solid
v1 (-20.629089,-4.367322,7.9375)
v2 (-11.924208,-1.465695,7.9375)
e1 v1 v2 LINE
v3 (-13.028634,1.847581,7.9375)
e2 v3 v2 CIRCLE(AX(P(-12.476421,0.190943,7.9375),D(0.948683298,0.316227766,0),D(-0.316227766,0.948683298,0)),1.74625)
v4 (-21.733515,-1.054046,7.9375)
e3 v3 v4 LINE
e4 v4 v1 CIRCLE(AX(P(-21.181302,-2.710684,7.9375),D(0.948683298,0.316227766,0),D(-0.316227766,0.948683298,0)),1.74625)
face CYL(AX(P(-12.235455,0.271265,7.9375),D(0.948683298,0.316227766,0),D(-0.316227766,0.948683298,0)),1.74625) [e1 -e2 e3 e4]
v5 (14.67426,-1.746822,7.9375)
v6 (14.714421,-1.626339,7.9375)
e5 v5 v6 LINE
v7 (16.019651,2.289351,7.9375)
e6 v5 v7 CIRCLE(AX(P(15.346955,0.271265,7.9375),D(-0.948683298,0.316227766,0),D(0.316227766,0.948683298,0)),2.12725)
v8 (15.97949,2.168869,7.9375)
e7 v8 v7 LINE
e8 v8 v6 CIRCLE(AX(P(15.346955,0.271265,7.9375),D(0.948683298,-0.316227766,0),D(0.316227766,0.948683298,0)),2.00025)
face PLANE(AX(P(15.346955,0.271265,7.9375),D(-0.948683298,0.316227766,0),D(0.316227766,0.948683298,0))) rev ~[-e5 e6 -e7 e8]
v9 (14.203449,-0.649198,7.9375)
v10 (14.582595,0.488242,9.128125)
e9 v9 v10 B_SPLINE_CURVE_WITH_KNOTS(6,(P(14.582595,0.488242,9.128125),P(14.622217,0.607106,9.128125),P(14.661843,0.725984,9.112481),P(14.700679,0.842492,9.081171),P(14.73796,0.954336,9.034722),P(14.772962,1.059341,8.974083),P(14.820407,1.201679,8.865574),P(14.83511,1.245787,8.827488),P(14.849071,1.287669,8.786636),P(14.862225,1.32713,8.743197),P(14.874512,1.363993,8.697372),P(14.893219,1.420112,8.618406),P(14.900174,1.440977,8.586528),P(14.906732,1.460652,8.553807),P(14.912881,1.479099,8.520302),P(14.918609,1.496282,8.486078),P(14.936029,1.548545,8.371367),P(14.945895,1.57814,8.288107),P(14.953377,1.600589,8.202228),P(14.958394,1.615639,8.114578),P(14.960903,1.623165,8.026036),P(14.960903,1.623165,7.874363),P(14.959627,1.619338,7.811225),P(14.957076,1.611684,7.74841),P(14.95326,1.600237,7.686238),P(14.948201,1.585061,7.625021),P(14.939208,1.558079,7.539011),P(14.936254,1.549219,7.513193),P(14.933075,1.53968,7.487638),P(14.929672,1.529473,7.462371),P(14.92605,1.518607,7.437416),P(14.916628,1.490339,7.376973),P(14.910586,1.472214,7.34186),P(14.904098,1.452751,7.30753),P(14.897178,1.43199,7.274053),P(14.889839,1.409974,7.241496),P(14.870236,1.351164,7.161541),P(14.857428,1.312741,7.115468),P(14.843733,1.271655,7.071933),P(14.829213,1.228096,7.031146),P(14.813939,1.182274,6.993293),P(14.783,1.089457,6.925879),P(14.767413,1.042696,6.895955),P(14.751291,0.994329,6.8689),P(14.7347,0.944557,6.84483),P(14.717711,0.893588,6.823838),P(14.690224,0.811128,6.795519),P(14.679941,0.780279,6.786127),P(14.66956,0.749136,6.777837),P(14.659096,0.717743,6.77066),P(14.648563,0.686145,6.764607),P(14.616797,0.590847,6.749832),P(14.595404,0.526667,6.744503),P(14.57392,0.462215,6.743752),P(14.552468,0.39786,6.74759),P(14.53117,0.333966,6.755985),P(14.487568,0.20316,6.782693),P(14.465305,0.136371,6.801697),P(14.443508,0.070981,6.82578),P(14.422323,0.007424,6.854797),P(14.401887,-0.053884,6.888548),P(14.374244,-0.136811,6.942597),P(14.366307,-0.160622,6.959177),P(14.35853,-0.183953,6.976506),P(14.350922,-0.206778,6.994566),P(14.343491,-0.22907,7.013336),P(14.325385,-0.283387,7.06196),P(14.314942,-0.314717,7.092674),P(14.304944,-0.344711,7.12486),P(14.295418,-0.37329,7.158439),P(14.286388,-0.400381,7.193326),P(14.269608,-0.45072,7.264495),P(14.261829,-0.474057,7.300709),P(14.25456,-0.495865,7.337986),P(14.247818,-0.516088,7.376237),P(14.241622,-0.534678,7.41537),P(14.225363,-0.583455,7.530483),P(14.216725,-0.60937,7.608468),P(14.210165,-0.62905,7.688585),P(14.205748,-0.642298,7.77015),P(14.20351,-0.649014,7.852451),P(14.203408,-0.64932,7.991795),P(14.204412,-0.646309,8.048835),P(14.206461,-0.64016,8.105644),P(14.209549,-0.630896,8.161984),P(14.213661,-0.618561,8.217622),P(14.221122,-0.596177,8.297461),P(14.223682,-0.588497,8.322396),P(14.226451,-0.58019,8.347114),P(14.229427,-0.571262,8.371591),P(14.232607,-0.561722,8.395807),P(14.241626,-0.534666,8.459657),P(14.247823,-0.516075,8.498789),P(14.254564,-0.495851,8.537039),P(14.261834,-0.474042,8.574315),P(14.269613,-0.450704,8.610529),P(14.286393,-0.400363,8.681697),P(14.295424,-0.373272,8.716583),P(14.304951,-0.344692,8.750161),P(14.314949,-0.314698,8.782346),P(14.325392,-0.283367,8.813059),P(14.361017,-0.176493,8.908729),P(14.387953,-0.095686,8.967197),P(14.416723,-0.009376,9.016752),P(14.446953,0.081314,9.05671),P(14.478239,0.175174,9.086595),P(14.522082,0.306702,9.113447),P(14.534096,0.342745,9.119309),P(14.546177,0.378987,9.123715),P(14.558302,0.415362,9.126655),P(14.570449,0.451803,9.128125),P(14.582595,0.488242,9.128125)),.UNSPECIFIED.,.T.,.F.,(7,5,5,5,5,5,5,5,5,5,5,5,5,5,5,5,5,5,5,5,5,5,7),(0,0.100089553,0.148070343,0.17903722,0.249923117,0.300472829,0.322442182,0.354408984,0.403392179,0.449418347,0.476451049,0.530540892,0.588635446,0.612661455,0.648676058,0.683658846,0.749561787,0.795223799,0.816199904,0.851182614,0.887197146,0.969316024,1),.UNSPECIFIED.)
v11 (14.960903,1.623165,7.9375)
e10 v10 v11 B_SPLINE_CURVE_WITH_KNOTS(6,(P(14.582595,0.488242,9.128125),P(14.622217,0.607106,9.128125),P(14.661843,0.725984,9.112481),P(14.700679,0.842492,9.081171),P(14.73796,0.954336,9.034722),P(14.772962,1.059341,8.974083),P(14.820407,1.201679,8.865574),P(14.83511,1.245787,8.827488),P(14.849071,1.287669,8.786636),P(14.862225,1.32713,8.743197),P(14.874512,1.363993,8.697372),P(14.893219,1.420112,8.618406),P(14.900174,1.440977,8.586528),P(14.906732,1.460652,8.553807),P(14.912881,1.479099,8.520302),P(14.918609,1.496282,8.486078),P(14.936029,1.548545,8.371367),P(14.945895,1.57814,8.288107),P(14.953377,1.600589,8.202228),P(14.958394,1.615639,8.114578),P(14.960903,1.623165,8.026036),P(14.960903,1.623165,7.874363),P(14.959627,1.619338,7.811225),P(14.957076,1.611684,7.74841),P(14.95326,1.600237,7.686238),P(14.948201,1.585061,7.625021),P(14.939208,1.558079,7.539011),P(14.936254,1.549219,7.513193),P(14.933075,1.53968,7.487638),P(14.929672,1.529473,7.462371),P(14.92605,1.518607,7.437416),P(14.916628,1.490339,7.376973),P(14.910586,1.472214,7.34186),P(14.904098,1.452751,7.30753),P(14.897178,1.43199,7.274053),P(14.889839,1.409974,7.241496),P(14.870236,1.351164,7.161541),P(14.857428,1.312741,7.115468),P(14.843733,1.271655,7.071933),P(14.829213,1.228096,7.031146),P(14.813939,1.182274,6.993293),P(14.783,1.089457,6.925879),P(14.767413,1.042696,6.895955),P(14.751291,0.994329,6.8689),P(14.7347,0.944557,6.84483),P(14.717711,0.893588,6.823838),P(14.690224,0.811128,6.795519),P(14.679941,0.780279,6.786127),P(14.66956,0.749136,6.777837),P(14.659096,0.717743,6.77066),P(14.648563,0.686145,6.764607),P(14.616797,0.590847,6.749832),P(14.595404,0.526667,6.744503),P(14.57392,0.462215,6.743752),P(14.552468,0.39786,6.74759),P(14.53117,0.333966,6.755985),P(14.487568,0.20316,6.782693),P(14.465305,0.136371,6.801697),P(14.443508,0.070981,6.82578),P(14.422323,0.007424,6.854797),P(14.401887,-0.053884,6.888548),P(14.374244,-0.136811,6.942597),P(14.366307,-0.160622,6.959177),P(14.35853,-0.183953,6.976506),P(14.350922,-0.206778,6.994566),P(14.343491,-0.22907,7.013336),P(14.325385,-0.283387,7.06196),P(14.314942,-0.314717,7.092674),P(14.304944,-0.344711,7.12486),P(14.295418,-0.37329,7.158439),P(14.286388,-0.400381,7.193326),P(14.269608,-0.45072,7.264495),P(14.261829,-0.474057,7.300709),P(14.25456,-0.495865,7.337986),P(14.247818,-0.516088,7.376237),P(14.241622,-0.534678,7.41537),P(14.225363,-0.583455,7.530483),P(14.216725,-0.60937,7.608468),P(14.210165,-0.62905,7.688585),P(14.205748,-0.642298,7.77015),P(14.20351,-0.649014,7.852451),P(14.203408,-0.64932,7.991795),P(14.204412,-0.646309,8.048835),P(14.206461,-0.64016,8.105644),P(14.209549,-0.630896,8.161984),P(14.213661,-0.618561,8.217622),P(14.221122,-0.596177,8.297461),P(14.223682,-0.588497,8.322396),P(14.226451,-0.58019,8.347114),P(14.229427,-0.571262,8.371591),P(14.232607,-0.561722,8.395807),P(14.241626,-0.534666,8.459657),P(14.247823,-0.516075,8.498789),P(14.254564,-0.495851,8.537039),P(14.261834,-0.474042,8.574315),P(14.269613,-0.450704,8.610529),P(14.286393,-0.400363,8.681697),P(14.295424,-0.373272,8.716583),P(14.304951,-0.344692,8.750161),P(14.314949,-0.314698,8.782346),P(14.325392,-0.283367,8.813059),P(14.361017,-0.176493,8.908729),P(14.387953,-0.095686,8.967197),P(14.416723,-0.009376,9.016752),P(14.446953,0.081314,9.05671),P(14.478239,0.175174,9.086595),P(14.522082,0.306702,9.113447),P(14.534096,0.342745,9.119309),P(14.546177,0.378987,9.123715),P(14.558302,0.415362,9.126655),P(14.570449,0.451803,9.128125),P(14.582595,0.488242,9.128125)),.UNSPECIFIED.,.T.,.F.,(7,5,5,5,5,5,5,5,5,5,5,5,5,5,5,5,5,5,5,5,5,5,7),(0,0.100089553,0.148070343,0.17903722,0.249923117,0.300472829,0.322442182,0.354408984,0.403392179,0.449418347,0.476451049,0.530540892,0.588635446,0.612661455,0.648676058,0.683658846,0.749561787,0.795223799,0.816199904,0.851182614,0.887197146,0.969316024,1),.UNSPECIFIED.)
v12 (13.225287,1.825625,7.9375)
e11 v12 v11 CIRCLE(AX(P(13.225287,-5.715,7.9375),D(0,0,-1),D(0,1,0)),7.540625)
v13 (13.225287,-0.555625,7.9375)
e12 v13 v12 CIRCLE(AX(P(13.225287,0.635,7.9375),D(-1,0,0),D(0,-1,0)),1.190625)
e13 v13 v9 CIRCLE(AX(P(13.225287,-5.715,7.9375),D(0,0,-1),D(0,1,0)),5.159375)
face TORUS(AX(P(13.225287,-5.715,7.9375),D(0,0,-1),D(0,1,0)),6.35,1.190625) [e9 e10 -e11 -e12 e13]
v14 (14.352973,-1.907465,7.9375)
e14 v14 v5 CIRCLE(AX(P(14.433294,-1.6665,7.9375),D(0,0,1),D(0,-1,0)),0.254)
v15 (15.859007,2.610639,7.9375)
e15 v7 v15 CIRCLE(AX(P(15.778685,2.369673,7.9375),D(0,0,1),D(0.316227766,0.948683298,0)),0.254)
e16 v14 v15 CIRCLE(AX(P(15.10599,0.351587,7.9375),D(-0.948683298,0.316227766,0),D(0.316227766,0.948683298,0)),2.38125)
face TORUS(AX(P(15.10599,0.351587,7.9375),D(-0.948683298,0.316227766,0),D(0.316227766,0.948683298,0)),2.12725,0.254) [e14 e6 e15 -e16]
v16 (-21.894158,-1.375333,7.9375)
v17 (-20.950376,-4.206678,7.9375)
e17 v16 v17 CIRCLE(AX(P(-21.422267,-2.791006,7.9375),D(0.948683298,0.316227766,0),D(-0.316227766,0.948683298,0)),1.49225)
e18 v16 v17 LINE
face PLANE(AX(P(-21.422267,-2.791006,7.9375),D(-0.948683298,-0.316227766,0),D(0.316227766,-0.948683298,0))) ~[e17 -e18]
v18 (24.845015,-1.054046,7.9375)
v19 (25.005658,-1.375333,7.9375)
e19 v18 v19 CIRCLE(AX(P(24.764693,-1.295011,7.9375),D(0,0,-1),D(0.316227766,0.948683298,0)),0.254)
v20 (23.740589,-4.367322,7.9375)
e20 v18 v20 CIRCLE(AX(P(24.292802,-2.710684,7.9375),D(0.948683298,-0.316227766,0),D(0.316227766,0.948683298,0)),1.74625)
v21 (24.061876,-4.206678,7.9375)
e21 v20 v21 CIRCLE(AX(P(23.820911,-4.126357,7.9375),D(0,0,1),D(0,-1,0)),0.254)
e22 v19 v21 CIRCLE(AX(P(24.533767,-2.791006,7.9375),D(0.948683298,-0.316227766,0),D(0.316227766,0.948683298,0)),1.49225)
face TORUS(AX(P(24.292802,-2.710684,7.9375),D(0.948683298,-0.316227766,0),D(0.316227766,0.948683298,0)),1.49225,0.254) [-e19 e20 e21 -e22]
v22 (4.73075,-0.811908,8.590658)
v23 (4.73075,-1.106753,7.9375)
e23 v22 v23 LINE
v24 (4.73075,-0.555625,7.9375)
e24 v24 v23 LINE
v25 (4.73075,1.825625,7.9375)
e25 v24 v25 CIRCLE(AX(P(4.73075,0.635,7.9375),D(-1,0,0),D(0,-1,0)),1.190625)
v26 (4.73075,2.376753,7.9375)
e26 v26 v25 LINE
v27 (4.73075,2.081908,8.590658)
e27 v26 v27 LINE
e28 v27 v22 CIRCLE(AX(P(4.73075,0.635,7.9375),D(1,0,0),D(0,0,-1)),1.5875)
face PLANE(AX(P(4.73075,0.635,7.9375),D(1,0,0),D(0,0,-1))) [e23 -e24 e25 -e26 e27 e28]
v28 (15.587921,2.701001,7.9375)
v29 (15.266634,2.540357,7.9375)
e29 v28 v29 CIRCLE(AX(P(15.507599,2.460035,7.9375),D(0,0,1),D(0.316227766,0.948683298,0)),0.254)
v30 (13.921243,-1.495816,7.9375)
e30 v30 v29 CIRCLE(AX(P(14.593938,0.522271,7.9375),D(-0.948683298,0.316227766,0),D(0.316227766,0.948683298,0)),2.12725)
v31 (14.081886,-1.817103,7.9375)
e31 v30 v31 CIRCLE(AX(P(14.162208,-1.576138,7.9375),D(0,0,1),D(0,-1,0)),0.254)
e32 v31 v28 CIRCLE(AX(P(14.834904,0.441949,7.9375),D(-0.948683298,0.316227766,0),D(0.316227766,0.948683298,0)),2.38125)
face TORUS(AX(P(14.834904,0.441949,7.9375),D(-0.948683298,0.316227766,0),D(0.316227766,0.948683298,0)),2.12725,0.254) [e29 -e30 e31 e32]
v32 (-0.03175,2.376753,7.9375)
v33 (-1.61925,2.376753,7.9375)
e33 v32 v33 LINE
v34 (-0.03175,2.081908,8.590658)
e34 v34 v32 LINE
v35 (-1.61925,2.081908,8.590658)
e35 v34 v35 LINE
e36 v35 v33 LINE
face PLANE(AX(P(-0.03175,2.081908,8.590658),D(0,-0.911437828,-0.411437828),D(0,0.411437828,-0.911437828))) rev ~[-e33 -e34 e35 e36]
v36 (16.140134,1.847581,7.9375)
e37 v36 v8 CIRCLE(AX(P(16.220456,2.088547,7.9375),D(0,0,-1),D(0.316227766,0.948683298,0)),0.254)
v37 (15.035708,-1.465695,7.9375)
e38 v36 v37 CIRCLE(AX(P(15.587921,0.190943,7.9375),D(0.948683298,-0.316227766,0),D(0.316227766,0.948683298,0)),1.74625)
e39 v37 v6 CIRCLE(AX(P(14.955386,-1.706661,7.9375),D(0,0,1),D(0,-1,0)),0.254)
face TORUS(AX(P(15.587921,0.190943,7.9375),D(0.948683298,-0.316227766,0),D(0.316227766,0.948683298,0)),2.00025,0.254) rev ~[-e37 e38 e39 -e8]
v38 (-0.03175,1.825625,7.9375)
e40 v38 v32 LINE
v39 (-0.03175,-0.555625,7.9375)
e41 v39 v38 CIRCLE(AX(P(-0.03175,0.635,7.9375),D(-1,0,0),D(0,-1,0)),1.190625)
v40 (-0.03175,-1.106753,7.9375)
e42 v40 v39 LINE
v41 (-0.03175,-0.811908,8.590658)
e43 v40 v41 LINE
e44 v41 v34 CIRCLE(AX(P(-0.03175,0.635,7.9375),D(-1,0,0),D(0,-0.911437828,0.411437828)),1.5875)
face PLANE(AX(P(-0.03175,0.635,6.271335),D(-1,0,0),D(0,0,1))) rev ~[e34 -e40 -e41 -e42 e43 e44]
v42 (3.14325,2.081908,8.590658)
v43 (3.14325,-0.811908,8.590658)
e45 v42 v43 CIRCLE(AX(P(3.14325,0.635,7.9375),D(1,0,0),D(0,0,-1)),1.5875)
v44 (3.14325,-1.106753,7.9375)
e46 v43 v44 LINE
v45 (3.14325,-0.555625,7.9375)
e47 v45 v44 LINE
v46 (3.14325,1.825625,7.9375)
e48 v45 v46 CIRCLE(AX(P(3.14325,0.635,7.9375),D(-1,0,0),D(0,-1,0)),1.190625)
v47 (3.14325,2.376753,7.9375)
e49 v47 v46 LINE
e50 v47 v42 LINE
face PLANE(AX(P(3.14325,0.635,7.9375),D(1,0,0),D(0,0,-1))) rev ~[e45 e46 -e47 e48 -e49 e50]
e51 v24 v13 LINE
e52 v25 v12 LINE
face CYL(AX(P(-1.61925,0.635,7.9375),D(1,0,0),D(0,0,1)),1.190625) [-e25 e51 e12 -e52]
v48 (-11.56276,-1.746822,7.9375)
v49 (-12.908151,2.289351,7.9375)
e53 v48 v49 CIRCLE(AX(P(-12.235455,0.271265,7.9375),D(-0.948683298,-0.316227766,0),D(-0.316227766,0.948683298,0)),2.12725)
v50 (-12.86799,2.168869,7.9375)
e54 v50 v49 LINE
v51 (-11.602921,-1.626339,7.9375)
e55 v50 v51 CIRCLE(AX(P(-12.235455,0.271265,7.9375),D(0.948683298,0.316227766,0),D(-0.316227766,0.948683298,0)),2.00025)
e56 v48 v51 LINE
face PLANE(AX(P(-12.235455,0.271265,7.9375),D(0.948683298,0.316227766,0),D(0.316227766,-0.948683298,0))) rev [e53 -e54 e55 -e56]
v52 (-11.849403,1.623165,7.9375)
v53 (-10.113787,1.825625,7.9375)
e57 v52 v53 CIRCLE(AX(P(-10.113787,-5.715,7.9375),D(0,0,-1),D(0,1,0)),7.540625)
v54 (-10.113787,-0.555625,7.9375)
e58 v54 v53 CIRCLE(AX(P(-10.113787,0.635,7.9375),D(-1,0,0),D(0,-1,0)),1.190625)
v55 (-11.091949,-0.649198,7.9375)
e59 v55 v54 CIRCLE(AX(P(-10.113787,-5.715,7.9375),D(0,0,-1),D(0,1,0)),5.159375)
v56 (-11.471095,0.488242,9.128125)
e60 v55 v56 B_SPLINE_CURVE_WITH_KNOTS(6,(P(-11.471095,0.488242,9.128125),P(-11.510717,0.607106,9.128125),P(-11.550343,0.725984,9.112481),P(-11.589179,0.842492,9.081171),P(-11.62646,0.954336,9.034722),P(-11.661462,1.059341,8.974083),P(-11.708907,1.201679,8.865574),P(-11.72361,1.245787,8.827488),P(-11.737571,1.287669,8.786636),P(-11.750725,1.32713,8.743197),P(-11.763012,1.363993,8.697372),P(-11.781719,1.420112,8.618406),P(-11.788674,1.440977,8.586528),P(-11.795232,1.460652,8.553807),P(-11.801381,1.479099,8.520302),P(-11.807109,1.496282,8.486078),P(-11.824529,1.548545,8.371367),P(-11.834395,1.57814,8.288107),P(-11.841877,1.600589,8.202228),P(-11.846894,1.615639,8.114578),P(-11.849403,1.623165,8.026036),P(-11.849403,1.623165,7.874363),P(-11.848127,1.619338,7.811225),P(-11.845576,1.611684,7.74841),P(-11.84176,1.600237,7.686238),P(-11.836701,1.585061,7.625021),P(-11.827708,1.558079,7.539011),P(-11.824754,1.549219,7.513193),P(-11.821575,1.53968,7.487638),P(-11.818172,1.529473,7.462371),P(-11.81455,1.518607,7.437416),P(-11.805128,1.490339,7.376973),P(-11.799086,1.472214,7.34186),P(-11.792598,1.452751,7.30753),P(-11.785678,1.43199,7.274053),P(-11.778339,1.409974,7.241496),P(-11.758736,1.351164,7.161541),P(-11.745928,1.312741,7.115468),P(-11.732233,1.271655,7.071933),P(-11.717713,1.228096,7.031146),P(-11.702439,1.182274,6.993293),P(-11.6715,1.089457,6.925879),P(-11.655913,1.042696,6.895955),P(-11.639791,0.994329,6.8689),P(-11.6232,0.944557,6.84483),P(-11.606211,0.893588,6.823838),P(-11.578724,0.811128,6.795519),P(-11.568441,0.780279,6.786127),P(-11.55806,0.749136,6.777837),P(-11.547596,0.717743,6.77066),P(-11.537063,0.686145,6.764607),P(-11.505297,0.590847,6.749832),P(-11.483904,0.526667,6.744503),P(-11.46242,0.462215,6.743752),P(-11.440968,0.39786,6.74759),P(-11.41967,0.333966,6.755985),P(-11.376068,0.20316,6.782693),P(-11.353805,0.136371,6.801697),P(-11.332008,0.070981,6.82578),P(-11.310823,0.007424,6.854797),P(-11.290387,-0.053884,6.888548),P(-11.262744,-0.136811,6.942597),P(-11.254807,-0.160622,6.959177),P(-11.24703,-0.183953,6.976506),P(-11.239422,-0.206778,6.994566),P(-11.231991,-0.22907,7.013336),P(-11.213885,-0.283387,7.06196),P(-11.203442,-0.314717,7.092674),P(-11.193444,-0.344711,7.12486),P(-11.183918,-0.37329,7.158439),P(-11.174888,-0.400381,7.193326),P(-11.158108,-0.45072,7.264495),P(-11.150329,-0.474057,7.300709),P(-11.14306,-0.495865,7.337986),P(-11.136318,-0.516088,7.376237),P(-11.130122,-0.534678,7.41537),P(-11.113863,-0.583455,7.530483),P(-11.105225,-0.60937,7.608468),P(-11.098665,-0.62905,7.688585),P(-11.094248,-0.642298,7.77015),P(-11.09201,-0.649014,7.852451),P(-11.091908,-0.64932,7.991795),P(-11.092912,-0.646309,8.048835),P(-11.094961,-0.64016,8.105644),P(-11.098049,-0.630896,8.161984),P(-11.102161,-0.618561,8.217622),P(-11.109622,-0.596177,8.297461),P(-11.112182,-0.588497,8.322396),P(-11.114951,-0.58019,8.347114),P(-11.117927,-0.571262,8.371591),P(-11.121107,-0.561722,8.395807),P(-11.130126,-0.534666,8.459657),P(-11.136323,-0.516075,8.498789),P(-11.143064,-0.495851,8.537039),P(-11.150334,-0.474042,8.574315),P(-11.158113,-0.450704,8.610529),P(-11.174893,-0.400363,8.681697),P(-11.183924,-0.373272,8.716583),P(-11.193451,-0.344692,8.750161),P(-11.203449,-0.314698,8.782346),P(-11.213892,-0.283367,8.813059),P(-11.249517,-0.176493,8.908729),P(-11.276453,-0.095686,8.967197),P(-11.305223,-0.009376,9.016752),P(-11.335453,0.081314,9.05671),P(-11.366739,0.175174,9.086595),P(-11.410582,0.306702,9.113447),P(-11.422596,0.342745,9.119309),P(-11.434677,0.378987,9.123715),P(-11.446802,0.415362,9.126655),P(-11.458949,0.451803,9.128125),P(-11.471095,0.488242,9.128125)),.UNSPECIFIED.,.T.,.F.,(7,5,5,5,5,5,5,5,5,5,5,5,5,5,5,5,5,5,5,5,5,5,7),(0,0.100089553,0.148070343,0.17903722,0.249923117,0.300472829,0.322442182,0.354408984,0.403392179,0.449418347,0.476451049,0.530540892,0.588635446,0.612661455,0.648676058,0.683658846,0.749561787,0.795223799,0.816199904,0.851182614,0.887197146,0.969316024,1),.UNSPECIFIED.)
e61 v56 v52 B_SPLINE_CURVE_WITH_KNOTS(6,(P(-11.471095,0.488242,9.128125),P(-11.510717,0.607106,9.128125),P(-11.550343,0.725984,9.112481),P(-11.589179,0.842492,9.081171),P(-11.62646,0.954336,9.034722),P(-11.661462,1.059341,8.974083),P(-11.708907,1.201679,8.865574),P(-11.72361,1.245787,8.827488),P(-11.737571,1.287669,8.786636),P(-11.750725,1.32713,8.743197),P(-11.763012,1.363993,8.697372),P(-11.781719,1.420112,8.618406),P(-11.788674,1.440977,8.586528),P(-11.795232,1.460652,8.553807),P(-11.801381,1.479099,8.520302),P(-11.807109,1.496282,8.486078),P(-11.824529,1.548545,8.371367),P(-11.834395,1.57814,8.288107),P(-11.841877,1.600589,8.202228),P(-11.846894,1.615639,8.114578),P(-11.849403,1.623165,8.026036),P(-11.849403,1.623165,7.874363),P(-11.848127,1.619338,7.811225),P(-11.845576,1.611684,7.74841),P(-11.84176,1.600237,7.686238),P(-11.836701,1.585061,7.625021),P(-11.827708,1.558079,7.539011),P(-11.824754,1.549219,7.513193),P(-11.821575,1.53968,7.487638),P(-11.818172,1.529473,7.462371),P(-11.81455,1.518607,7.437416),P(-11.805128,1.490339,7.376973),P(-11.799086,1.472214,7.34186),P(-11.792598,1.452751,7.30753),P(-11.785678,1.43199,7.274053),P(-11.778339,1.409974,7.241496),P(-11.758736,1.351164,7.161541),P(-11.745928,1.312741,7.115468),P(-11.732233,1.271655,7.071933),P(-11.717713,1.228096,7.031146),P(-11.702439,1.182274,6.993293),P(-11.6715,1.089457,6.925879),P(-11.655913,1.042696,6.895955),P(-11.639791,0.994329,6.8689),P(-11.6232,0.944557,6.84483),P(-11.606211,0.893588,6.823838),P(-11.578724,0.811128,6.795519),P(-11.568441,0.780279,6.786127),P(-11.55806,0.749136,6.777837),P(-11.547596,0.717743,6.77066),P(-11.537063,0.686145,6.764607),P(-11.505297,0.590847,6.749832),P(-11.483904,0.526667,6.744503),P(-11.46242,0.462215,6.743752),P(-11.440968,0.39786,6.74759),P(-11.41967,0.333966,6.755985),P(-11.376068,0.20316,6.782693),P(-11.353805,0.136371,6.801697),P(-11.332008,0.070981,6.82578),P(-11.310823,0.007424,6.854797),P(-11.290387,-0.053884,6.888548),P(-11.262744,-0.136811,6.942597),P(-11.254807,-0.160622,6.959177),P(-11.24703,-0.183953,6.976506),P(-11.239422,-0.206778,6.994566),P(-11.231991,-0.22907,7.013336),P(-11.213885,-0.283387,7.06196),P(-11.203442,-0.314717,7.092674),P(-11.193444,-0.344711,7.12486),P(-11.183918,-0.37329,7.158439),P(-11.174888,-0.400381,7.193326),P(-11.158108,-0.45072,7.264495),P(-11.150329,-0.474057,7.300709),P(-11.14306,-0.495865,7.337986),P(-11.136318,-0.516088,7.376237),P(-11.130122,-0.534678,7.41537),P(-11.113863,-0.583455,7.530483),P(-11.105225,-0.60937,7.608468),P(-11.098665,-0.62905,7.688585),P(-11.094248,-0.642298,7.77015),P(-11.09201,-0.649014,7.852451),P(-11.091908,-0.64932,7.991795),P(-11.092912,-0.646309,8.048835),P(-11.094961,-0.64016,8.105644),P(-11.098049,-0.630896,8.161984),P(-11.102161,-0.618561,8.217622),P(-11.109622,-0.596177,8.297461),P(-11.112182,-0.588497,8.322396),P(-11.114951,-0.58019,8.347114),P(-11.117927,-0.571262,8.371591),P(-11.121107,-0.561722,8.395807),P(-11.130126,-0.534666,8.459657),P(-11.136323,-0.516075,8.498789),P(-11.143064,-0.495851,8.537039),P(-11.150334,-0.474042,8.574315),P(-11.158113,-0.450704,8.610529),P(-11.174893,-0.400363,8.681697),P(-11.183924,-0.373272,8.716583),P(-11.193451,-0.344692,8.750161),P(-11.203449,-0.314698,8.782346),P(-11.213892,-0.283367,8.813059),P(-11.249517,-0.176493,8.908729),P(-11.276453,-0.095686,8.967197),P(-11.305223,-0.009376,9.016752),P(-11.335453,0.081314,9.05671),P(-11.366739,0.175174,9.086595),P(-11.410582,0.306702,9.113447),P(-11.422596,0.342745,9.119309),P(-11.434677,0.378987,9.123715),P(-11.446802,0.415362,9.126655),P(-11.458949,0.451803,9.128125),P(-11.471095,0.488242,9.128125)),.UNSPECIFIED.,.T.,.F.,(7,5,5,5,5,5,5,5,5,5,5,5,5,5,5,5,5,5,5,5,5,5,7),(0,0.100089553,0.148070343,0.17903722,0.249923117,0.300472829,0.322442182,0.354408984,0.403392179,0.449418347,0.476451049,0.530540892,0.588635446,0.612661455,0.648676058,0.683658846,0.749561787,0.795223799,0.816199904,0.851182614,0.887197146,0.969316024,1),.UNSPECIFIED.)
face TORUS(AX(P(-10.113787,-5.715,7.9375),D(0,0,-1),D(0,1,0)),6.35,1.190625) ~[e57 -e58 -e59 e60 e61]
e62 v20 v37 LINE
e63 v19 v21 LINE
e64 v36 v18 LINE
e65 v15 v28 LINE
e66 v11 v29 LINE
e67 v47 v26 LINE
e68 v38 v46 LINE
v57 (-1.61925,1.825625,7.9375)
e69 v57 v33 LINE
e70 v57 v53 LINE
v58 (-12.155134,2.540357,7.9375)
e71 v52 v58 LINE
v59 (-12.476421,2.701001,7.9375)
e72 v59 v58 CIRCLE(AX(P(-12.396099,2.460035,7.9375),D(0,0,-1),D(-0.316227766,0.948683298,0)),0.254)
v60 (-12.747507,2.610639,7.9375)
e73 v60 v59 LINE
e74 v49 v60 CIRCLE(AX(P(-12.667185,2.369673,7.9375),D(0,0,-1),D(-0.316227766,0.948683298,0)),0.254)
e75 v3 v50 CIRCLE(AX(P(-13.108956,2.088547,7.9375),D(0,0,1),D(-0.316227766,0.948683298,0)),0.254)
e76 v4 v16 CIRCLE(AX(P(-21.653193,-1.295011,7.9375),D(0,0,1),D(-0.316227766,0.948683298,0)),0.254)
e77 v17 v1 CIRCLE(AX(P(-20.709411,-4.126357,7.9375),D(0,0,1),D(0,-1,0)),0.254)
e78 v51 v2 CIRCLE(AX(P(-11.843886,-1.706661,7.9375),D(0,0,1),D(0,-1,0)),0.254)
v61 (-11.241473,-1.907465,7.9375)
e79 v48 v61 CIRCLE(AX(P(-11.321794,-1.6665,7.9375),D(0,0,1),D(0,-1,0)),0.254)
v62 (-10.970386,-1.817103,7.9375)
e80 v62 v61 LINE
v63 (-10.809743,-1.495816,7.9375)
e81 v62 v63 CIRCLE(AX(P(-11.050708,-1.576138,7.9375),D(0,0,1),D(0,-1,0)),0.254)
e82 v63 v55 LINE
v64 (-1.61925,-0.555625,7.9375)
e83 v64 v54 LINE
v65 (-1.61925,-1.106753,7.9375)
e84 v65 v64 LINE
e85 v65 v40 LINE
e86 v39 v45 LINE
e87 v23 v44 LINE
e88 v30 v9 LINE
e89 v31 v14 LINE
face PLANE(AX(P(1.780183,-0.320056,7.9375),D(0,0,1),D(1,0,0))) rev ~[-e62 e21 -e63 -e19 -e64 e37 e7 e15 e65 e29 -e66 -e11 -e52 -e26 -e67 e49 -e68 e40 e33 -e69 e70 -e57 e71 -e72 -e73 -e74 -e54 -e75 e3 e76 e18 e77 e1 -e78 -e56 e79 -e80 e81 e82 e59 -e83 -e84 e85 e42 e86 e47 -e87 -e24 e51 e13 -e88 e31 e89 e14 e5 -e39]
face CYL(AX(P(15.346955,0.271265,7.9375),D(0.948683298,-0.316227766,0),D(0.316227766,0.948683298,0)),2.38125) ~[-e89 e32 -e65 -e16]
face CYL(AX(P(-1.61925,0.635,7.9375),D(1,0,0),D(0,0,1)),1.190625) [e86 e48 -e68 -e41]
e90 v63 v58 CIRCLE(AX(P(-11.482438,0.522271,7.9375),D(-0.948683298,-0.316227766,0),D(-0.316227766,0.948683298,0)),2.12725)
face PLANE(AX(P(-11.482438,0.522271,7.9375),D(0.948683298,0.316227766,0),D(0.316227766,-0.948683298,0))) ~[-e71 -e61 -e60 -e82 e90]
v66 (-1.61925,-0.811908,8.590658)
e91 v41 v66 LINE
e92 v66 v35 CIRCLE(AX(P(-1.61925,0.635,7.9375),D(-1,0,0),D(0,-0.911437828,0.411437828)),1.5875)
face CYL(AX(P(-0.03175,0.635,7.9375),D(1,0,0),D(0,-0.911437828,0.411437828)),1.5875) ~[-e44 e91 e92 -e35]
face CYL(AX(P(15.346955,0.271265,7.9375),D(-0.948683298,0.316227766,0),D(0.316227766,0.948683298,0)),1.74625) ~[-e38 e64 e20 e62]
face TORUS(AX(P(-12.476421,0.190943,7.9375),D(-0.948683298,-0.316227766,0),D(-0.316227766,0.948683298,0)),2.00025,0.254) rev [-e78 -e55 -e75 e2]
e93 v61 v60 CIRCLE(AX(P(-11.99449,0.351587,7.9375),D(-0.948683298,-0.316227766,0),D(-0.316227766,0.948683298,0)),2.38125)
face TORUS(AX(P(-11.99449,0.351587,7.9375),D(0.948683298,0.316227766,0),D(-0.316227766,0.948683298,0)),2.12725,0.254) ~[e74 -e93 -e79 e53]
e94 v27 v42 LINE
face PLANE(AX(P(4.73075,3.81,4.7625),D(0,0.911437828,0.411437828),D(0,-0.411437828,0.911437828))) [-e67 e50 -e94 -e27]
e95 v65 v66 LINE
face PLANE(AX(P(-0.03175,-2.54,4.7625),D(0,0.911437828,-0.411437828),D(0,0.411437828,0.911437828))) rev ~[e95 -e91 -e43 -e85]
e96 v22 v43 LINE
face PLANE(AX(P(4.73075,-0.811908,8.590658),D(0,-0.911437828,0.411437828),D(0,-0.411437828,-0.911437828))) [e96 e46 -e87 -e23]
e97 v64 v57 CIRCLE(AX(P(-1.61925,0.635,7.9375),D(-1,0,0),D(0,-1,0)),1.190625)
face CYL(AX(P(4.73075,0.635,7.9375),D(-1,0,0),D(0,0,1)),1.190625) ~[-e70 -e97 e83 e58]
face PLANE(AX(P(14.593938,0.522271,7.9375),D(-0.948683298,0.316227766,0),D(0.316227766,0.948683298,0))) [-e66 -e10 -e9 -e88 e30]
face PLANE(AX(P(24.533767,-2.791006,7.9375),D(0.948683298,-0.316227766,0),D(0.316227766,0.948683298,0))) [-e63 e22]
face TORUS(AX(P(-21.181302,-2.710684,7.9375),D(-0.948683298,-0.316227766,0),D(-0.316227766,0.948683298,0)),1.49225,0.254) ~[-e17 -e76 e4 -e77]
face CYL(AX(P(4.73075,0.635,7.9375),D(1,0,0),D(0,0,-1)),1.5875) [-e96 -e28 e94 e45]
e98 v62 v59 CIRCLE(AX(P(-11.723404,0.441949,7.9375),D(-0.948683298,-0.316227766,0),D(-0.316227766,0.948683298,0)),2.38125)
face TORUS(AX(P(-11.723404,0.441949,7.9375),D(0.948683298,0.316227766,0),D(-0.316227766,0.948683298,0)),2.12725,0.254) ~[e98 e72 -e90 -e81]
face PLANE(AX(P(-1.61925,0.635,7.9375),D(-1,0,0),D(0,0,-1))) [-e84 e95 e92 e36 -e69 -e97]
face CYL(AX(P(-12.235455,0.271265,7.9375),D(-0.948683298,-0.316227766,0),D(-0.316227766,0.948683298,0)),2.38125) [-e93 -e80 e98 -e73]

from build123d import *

# Parameters (mm, degrees)
SKETCH1_W            = 6.35
SKETCH1_H            = 6.35
BOSS_EXTRUDE1_DEPTH  = 4.7625
SKETCH3_R            = 1.5875
BOSS_EXTRUDE2_DEPTH  = 1.5875
BOSS_EXTRUDE3_START  = -1.5875
SKETCH4_R            = 1.5875
BOSS_EXTRUDE3_DEPTH  = 1.5875
SKETCH5_R            = 1.190625
BOSS_EXTRUDE4_START  = -8.89
SKETCH7_R            = 1.74625
BOSS_EXTRUDE4_DEPTH  = 9.68375
SKETCH8_R            = 2.38125
BOSS_EXTRUDE5_DEPTH  = 0.79375
FILLET2_R            = 0.254
FILLET3_R            = 0.254
FILLET4_R            = 0.254
FILLET2_OF_MIRROR3_R = 0.254
FILLET3_OF_MIRROR3_R = 0.254
FILLET4_OF_MIRROR3_R = 0.254
SKETCH9_W            = 52.511518924
SKETCH9_H            = 9.759118081
CUT_EXTRUDE1_DEPTH   = 27.610644864


with BuildPart() as part:
    # Sketch1 → Boss-Extrude1 (new body)
    with BuildSketch(Plane.XY):
        with Locations((1.55575, 0.635)):
            Rectangle(SKETCH1_W, SKETCH1_H)
    extrude(amount=BOSS_EXTRUDE1_DEPTH)

    # Sketch3 → Boss-Extrude2 (add)
    with BuildSketch(Plane(origin=(4.73075, 0, 0), x_dir=(0, 0, -1), z_dir=(1, 0, 0))):
        with Locations((-7.9375, 0.635)):
            Circle(SKETCH3_R)
        with BuildLine():
            Line((-4.7625, -2.54), (-4.7625, 3.81))
            Line((-4.7625, 3.81), (-8.590657552, 2.081907552))
            ThreePointArc((-8.590657552, 2.081907552), (-7.076318069, 1.968612362), (-6.35, 0.635))
            ThreePointArc((-6.35, 0.635), (-7.076318069, -0.698612362), (-8.590657552, -0.811907552))
            Line((-8.590657552, -0.811907552), (-4.7625, -2.54))
        make_face()
    extrude(amount=-BOSS_EXTRUDE2_DEPTH)

    # Sketch4 → Boss-Extrude3 (add)
    with BuildSketch(Plane.ZY.offset(1.61925).offset(BOSS_EXTRUDE3_START)):
        with BuildLine():
            Line((4.7625, -2.54), (8.590657552, -0.811907552))
            ThreePointArc((8.590657552, -0.811907552), (6.35, 0.635), (8.590657552, 2.081907552))
            Line((8.590657552, 2.081907552), (4.7625, 3.81))
            Line((4.7625, 3.81), (4.7625, -2.54))
        make_face()
        with Locations((7.9375, 0.635)):
            Circle(SKETCH4_R)
    extrude(amount=BOSS_EXTRUDE3_DEPTH)

    # Sweep1: sweep along a path in Sketch6
    with BuildLine(Plane.XY.offset(7.9375)) as sweep1_path:
        Line((-1.61925, 0.635), (4.73075, 0.635))
        Line((4.73075, 0.635), (13.225286858, 0.635))
        ThreePointArc((13.225286858, 0.635), (14.242444101, 0.553005356), (15.233333172, 0.309138943))
        Line((15.233333172, 0.309138943), (23.78075, -2.54))
    # Sketch5 → Sweep1 (sweep)
    with BuildSketch(Plane.ZY.offset(1.61925)):
        with Locations((7.9375, 0.635)):
            Circle(SKETCH5_R)
    sweep1 = sweep(path=sweep1_path.line)

    # Mirror1: Sweep1 across plane
    add(sweep1.mirror(Plane.ZY.offset(-1.55575)))

    # Sketch7 → Boss-Extrude4 (add)
    with BuildSketch(Plane(origin=(22.164675, -7.388225, 0), x_dir=(0, 0, -1), z_dir=(0.9486832980505139, -0.31622776601683794, 0)).offset(BOSS_EXTRUDE4_START)):
        with Locations(Location((-7.9375, 5.11047787, 0), (0, 0, 90))):
            Circle(SKETCH7_R)
    boss_extrude4 = extrude(amount=BOSS_EXTRUDE4_DEPTH)

    # Sketch8 → Boss-Extrude5 (add)
    with BuildSketch(Plane(origin=(13.73088048, -4.57696016, 0), x_dir=(0, 0, 1), z_dir=(-0.9486832980505139, 0.316227766016838, 0))):
        with Locations(Location((7.9375, 5.11047787, 0), (0, 0, 90))):
            Circle(SKETCH8_R)
    boss_extrude5 = extrude(amount=BOSS_EXTRUDE5_DEPTH)

    # Fillet2
    fillet2_edges = [part.edges().sort_by_distance(p)[0] for p in [
        (23.981554631, -4.447643999, 7.9375),
    ]]
    fillet(fillet2_edges, radius=FILLET2_R)

    # Fillet3
    fillet3_edges = [part.edges().sort_by_distance(p)[0] for p in [
        (14.794742744, -1.385373369, 7.9375),
    ]]
    fillet(fillet3_edges, radius=FILLET3_R)

    # Fillet4
    fillet4_edges = [part.edges().sort_by_distance(p)[0] for p in [
        (13.840920745, -1.736781474, 7.9375),
        (14.593938113, -1.987787264, 7.9375),
    ]]
    fillet(fillet4_edges, radius=FILLET4_R)

    # Mirror3: Boss-Extrude4, Boss-Extrude5 across plane
    add(boss_extrude4.mirror(Plane.ZY.offset(-1.55575)))
    add(boss_extrude5.mirror(Plane.ZY.offset(-1.55575)))

    # Fillet2 of Mirror3
    fillet2_of_mirror3_edges = [part.edges().sort_by_distance(p)[0] for p in [
        (-20.870054631, -4.447643999, 7.9375),
    ]]
    fillet(fillet2_of_mirror3_edges, radius=FILLET2_OF_MIRROR3_R)

    # Fillet3 of Mirror3
    fillet3_of_mirror3_edges = [part.edges().sort_by_distance(p)[0] for p in [
        (-11.683242744, -1.385373369, 7.9375),
    ]]
    fillet(fillet3_of_mirror3_edges, radius=FILLET3_OF_MIRROR3_R)

    # Fillet4 of Mirror3
    fillet4_of_mirror3_edges = [part.edges().sort_by_distance(p)[0] for p in [
        (-10.729420745, -1.736781474, 7.9375),
        (-11.482438113, -1.987787264, 7.9375),
    ]]
    fillet(fillet4_of_mirror3_edges, radius=FILLET4_OF_MIRROR3_R)

    # Sketch9 → Cut-Extrude1 (cut, through all)
    with BuildSketch(Plane.XY.offset(7.9375)):
        with Locations((1.780183147, -0.320056159)):
            Rectangle(SKETCH9_W, SKETCH9_H)
    extrude(amount=-CUT_EXTRUDE1_DEPTH, mode=Mode.SUBTRACT)


solid = part.part
